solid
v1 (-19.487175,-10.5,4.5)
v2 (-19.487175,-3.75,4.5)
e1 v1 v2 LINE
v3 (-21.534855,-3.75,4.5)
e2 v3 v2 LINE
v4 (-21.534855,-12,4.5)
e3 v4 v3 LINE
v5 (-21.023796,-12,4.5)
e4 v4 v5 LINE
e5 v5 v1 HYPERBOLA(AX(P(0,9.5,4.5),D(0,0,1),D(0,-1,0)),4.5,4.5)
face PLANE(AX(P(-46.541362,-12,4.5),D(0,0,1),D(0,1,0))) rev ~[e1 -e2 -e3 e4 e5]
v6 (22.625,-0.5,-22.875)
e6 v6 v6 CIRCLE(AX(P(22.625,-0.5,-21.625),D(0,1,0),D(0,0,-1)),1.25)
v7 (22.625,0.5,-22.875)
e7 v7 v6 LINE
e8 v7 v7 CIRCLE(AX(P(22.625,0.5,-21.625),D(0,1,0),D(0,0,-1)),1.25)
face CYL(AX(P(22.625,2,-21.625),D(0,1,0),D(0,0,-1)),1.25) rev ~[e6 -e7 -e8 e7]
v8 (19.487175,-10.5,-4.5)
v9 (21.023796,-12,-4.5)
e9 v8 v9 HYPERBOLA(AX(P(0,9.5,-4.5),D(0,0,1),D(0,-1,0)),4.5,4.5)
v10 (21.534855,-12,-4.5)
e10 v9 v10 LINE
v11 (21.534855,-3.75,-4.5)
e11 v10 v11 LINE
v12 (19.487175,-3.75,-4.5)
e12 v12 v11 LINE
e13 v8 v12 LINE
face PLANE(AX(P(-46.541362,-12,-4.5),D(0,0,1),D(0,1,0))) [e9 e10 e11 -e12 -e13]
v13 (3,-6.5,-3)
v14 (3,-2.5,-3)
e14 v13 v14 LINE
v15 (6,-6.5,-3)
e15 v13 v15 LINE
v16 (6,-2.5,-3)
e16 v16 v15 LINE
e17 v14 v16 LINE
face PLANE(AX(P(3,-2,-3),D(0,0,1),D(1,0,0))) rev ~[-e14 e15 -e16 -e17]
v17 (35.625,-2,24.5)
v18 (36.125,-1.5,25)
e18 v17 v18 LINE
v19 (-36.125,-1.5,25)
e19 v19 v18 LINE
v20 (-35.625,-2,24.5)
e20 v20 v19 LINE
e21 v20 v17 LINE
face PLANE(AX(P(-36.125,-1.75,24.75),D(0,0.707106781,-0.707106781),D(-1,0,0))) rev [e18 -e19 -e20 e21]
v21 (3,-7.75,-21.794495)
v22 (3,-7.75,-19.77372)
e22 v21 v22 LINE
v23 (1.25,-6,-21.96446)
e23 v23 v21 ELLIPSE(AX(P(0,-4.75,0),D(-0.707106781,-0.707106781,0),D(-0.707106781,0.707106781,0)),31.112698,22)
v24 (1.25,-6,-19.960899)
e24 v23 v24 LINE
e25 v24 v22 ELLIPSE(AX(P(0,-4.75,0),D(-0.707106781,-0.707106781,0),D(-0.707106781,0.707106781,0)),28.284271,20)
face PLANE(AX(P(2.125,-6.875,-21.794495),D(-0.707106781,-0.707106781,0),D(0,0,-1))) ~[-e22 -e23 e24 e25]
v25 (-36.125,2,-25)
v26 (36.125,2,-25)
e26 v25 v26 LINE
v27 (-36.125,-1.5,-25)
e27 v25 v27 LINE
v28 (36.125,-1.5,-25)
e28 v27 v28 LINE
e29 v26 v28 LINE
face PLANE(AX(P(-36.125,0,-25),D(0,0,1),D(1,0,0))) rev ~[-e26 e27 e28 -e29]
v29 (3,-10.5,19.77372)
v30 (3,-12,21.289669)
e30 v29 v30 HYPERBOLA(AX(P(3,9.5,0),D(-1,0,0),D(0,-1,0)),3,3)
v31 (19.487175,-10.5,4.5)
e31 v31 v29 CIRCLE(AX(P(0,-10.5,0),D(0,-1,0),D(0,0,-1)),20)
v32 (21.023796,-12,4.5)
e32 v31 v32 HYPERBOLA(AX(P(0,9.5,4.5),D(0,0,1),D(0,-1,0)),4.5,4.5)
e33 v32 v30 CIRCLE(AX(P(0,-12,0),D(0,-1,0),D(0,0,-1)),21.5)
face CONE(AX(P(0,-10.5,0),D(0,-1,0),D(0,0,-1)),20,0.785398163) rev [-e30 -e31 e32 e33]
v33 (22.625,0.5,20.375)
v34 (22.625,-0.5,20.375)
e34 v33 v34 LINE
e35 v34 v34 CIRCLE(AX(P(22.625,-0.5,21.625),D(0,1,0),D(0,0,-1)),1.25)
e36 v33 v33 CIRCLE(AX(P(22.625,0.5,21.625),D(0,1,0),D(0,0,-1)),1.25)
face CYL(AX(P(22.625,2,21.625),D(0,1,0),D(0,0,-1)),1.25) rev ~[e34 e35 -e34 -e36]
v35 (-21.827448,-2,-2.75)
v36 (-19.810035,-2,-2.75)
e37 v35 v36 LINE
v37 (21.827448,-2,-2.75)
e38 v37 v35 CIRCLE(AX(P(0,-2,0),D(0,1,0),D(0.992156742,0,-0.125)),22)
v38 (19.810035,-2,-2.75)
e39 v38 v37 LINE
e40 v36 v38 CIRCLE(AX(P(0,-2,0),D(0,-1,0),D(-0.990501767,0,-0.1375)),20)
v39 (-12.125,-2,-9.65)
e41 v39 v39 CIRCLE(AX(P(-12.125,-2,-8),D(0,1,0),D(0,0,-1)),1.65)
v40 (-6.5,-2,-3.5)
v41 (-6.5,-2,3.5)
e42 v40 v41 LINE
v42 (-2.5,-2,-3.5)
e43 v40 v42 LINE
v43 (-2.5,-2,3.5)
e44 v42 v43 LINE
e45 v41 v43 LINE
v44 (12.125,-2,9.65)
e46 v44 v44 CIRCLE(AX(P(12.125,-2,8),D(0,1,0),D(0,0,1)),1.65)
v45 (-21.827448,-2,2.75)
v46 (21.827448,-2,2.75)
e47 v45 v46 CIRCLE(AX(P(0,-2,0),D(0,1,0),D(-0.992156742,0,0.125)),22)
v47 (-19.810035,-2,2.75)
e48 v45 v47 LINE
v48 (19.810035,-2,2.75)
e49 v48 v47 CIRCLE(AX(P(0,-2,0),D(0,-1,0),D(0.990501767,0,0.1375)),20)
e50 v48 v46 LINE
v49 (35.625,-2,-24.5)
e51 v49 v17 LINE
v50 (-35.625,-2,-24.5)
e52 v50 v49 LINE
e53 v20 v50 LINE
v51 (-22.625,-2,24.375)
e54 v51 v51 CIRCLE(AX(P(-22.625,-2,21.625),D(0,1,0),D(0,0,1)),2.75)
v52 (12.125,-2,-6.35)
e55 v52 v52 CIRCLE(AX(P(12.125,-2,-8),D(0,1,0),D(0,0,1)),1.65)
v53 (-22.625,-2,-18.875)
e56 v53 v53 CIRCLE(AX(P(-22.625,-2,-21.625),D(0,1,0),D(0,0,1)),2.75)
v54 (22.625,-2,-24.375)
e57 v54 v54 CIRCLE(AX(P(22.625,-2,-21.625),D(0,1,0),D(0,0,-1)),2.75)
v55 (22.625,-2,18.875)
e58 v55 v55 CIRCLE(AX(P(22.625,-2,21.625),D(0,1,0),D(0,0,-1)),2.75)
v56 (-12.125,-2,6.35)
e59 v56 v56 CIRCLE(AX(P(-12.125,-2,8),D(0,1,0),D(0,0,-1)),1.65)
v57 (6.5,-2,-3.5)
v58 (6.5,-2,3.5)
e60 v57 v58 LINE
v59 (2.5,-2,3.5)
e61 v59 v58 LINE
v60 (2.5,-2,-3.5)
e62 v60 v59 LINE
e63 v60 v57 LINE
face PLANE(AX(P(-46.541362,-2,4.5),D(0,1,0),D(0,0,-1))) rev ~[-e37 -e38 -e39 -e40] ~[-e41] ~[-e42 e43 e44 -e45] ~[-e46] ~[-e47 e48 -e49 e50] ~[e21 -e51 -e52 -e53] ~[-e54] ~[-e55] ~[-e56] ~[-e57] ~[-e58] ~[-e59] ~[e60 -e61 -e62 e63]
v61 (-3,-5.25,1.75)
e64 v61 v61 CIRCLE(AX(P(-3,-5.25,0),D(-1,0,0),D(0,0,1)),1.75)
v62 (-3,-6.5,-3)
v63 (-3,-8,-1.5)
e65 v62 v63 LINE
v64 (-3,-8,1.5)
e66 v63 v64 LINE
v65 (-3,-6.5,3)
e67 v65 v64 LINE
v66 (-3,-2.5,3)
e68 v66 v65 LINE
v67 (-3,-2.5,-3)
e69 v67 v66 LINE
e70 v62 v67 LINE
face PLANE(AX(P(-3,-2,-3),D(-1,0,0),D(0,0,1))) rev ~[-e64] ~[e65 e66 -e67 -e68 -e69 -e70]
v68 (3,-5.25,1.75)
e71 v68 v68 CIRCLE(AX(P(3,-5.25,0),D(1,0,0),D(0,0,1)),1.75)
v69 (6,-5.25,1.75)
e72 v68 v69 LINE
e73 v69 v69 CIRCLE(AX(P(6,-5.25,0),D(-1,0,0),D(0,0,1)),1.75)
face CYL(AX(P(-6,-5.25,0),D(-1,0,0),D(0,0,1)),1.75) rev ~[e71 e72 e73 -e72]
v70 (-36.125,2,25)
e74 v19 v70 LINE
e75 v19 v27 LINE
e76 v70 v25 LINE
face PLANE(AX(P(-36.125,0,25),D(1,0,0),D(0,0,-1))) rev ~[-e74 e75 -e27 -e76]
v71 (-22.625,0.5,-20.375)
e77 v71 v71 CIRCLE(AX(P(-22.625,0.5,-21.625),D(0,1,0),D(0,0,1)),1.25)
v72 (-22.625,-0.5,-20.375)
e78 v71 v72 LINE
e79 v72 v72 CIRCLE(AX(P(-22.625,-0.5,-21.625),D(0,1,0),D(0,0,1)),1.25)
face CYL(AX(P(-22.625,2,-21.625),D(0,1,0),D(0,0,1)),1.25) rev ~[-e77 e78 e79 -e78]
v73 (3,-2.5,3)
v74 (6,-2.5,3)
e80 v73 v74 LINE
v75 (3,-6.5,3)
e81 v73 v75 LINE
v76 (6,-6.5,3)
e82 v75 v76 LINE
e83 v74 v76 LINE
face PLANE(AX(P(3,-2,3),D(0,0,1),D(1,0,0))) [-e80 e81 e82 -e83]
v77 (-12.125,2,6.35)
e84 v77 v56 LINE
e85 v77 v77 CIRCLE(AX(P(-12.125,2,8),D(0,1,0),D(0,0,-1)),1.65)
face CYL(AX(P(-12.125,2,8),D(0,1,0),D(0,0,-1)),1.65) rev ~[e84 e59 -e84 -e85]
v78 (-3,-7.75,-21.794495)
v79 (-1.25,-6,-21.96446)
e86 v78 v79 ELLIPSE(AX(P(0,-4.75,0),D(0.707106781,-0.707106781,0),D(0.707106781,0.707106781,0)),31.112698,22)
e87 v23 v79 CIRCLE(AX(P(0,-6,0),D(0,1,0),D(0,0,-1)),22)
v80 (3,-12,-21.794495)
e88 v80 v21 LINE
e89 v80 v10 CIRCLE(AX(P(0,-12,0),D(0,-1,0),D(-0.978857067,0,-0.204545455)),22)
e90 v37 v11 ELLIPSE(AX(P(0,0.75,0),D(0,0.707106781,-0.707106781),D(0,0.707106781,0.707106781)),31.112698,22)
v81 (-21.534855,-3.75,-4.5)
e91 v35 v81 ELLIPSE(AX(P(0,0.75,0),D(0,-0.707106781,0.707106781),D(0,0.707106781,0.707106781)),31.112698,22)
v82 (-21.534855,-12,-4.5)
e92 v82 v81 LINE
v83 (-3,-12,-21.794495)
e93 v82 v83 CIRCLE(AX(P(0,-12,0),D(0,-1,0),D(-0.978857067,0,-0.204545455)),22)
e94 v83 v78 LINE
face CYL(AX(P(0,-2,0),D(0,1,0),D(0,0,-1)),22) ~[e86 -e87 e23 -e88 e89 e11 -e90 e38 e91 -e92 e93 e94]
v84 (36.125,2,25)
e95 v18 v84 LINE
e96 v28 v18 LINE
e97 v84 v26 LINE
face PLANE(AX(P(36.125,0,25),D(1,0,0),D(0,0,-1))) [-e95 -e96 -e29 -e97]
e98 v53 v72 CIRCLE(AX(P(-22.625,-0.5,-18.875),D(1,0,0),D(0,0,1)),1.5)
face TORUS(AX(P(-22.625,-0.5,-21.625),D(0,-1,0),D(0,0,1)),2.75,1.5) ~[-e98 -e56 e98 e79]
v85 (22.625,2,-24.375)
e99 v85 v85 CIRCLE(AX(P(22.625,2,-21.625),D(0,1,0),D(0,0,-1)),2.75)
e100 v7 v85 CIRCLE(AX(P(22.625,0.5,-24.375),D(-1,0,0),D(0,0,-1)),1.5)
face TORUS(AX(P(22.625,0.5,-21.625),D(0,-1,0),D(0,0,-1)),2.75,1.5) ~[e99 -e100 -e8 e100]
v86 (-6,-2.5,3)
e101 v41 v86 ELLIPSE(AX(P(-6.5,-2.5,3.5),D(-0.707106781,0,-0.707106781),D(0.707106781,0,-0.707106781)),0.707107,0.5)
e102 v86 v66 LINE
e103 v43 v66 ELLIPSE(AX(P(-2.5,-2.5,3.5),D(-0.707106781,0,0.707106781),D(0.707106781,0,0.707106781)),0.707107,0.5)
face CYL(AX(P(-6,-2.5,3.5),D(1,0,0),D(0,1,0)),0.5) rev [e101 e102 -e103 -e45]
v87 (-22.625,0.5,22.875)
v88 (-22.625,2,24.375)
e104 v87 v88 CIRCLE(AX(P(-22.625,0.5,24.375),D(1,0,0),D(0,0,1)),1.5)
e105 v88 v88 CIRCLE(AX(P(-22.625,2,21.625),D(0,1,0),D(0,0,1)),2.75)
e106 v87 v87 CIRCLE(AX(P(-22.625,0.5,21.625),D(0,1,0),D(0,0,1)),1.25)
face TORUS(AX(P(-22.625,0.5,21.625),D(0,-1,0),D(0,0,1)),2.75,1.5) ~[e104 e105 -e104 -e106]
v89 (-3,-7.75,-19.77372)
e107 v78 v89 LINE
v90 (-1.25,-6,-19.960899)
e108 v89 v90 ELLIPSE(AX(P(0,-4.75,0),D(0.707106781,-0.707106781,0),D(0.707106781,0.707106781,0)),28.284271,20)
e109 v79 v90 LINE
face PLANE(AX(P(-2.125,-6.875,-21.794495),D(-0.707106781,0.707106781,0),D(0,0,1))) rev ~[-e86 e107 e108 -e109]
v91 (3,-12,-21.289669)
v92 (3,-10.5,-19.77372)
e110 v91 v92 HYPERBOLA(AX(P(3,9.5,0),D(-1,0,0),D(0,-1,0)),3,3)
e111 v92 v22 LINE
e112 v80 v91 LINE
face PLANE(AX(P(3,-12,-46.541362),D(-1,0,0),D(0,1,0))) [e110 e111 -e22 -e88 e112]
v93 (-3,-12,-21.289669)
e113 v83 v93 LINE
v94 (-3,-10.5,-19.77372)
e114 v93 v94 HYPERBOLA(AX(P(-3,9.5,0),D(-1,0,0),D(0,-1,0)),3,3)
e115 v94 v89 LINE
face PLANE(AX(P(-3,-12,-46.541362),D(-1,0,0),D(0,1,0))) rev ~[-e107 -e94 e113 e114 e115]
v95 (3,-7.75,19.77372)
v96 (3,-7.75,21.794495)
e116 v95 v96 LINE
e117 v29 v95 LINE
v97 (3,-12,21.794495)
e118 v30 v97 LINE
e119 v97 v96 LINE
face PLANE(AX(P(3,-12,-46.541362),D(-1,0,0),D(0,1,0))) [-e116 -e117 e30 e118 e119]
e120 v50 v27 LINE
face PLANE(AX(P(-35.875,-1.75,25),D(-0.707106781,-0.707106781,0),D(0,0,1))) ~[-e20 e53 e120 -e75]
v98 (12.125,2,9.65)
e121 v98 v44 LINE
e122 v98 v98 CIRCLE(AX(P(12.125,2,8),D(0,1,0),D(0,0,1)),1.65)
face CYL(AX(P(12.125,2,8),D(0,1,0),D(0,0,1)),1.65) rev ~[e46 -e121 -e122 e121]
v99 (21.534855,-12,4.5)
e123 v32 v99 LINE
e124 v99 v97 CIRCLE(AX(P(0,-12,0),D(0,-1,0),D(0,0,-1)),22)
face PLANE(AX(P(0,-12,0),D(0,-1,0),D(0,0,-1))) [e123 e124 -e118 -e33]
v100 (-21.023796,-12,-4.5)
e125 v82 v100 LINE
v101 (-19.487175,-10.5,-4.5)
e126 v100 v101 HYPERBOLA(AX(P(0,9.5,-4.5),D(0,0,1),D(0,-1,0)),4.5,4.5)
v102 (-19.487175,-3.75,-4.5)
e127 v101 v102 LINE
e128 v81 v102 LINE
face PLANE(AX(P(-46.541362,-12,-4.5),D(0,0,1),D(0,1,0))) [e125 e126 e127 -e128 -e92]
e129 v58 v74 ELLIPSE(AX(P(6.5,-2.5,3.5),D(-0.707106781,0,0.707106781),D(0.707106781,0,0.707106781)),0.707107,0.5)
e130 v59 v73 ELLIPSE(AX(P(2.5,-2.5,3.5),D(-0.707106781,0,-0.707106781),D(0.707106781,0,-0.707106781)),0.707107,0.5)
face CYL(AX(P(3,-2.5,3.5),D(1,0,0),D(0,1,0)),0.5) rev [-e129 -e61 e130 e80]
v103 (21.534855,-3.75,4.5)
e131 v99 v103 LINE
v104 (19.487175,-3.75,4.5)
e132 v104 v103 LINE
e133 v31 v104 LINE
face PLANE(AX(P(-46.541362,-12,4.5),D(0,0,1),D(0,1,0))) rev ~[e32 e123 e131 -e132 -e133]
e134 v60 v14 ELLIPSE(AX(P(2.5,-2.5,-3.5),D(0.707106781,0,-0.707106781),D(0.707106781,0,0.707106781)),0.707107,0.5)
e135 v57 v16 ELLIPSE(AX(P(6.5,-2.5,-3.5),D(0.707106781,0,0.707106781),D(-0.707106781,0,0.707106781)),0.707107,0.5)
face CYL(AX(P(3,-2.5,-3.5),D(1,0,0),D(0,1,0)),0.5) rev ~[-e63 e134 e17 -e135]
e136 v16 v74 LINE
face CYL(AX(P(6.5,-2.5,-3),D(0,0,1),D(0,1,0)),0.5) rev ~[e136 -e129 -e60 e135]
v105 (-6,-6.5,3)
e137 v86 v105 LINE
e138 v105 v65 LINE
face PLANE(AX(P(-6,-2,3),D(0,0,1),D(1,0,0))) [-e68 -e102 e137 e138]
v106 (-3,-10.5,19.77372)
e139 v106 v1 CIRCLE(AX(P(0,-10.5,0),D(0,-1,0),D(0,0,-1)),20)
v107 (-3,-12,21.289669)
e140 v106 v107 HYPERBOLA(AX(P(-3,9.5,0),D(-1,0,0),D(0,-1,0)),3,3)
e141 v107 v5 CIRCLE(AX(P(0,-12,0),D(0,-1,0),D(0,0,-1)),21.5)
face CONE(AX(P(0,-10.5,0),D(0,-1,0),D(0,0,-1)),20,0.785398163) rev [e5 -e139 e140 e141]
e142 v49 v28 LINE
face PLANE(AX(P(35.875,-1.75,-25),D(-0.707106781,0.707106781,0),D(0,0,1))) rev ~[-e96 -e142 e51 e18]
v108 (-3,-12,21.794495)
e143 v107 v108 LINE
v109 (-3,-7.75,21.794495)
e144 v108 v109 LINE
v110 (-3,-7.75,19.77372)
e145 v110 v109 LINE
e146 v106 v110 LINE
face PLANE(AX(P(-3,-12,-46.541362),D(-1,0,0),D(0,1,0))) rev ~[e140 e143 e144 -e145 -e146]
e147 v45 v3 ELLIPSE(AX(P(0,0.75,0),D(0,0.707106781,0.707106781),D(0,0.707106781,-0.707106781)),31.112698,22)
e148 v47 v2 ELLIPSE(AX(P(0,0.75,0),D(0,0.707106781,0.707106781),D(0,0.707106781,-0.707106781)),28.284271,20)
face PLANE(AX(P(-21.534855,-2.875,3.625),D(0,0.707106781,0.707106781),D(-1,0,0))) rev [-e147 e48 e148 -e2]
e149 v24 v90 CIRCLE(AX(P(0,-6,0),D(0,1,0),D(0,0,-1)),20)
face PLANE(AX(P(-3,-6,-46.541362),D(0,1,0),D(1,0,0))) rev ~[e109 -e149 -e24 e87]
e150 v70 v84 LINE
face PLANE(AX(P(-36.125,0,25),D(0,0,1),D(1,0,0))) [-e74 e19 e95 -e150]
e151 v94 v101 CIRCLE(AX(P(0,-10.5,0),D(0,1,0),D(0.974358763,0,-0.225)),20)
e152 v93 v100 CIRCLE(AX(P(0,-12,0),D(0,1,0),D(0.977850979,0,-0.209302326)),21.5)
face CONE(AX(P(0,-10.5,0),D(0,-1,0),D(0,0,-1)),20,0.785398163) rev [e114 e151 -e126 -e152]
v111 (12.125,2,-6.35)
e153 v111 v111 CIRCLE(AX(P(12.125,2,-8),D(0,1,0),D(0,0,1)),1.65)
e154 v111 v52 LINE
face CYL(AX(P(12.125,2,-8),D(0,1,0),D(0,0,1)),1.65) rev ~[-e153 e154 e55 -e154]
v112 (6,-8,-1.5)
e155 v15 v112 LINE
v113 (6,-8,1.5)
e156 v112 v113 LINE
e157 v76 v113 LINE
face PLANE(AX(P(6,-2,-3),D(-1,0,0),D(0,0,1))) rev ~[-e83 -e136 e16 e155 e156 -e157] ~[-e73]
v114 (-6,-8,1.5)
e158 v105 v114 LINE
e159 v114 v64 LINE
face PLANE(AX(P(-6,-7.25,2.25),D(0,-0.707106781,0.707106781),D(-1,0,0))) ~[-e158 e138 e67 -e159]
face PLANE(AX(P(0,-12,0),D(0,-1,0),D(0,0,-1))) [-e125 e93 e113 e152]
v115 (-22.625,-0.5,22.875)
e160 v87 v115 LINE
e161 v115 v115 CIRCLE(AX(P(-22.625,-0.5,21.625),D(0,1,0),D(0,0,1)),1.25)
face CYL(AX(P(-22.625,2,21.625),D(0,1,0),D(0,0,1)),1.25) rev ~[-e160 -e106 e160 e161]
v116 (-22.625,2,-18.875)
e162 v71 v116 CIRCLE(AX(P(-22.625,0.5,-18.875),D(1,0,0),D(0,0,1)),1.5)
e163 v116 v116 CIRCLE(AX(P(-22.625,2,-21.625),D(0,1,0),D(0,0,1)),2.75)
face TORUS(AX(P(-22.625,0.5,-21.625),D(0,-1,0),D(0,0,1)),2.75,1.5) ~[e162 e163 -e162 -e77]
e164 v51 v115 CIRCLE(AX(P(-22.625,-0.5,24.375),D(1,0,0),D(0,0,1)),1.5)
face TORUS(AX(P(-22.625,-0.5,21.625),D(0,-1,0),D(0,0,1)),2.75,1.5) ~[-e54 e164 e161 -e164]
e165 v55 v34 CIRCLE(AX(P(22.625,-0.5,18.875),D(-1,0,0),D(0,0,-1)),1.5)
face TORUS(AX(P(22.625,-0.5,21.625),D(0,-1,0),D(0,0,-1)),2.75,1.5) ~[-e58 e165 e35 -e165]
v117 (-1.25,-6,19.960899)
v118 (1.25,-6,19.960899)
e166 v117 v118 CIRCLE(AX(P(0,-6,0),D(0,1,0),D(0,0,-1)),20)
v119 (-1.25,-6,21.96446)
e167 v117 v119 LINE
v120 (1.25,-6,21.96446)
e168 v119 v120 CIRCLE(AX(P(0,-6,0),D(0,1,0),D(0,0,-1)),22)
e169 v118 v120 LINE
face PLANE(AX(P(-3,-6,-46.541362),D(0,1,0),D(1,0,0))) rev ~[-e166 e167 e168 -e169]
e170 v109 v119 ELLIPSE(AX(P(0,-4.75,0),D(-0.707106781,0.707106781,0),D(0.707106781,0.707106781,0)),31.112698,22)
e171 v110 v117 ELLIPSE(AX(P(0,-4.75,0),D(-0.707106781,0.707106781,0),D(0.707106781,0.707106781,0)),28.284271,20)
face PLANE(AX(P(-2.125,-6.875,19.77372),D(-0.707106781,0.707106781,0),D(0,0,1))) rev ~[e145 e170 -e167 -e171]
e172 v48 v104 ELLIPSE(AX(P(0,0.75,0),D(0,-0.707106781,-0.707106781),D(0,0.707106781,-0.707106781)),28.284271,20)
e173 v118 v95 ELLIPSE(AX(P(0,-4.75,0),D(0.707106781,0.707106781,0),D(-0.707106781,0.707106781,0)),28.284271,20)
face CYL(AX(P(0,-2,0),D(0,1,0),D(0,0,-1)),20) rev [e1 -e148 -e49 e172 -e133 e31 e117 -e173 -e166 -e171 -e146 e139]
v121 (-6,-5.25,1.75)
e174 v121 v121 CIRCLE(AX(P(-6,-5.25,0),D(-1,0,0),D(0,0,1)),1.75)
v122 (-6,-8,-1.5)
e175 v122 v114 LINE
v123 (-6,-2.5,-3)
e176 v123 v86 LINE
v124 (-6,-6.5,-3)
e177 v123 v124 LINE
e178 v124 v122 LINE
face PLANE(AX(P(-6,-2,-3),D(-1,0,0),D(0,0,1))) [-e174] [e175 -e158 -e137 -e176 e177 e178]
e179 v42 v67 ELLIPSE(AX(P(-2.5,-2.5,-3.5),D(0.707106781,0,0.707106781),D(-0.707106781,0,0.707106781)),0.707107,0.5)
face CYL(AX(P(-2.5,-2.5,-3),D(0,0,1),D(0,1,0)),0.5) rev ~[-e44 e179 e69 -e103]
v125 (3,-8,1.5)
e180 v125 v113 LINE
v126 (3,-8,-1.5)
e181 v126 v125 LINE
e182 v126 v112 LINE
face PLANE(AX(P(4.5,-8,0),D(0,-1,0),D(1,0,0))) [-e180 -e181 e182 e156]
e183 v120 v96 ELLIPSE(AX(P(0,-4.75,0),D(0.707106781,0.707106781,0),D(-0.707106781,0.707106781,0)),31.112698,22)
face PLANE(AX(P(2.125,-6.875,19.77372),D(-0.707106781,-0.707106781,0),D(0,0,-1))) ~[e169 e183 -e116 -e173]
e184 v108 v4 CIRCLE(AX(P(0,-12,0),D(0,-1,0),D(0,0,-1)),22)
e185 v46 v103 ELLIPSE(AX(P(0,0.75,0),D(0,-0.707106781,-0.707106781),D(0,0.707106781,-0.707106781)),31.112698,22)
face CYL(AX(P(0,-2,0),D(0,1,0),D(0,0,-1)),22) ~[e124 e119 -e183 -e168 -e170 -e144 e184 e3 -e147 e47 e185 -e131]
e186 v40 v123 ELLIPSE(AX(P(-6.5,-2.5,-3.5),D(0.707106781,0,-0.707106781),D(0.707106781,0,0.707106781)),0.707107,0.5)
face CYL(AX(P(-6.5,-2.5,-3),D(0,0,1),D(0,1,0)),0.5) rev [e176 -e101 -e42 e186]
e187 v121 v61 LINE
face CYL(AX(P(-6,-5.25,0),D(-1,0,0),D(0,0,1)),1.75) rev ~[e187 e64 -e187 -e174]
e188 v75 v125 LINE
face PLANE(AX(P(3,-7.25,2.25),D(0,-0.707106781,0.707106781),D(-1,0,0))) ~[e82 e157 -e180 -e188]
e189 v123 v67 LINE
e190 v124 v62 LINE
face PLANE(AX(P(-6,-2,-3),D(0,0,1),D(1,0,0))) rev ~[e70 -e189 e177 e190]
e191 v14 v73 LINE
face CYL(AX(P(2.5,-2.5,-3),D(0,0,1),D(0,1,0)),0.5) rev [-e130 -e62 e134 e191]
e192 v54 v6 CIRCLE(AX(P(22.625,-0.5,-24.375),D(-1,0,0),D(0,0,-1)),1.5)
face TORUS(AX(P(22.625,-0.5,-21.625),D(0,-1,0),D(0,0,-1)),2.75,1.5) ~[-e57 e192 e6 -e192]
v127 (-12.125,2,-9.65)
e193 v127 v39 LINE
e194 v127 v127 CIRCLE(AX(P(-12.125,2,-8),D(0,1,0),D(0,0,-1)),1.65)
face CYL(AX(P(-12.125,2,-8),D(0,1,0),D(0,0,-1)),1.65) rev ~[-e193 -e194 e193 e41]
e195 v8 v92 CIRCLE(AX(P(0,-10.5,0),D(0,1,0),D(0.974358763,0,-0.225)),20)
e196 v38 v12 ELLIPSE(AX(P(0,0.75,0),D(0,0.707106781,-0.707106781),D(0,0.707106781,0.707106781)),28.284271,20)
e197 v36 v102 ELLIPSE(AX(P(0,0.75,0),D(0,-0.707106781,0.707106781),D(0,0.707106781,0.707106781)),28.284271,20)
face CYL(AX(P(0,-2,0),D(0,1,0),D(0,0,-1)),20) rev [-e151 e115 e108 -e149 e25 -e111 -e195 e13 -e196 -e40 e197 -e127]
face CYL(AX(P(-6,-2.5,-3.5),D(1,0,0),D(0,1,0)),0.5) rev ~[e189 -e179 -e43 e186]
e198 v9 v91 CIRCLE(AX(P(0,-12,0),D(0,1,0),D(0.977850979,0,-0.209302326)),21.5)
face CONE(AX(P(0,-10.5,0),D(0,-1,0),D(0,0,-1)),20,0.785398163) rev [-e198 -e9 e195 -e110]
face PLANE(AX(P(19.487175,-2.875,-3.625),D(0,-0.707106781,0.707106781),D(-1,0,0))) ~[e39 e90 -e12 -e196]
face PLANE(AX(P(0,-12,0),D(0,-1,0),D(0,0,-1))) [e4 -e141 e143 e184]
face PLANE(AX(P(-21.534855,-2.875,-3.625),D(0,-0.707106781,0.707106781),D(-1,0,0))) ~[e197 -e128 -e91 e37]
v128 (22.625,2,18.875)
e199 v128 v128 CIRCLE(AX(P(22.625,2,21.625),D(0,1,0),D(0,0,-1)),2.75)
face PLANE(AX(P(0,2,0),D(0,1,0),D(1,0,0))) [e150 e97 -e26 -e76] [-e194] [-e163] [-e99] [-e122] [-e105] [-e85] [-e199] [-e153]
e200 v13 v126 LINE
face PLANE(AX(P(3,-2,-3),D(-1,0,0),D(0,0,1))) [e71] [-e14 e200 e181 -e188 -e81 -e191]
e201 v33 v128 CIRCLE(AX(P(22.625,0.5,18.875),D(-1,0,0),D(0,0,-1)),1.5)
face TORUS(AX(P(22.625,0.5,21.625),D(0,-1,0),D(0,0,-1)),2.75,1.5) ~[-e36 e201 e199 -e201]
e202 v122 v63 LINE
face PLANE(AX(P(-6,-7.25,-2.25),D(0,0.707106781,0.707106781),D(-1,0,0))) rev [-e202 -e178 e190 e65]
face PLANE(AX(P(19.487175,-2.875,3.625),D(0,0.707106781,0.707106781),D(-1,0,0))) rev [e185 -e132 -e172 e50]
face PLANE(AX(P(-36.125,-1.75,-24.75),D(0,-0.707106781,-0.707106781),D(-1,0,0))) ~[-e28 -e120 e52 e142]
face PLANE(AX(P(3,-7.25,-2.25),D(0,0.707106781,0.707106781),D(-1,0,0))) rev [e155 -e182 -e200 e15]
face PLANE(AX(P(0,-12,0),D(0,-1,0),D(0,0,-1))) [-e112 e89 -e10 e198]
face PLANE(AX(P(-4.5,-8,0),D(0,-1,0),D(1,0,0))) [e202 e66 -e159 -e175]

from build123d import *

# Parameters (mm, degrees)
SKETCH1_W               = 72.25
SKETCH1_H               = 50
BOSS_EXTRUDE1_DEPTH     = 2
SKETCH2_R               = 1.65
CUT_EXTRUDE1_DEPTH      = 10
SKETCH3_R               = 22
SKETCH3_R_2             = 20
BOSS_EXTRUDE2_DEPTH     = 10
CHAMFER2_SIZE           = 1.5
CUT_EXTRUDE3_DEPTH      = 46.541361695
CUT_EXTRUDE3_DEPTH_BACK = 46.541361695
SKETCH6_W               = 9
SKETCH6_H               = 10
SKETCH4_W               = 3
SKETCH4_H               = 6
BOSS_EXTRUDE3_DEPTH     = 6
FILLET1_R               = 0.5
CUT_EXTRUDE2_REACH      = 52.433
SKETCH5_R               = 1.75
CHAMFER3_SIZE           = 1.5
SKETCH7_R               = 1.25
CUT_EXTRUDE4_DEPTH      = 10
FILLET2_R               = 1.5
CUT_EXTRUDE5_DEPTH      = 46.541361695
CUT_EXTRUDE5_DEPTH_BACK = 46.541361695
SKETCH8_W               = 6
SKETCH8_H               = 6
CHAMFER4_SIZE           = 1.75
CHAMFER5_SIZE           = 0.5


with BuildPart() as part:
    # Sketch1 → Boss-Extrude1 (new, symmetric)
    with BuildSketch(Plane(origin=(0, 0, 0), x_dir=(1, 0, 0), z_dir=(0, 1, 0))):
        Rectangle(SKETCH1_W, SKETCH1_H)
    extrude(amount=BOSS_EXTRUDE1_DEPTH, both=True)

    # Sketch2 → Cut-Extrude1 (cut)
    with BuildSketch(Plane(origin=(0, 2, 0), x_dir=(1, 0, 0), z_dir=(0, 1, 0))):
        with Locations(Location((12.125, -8, 0), (0, 0, 270))):
            Circle(SKETCH2_R)
        with Locations(Location((12.125, 8, 0), (0, 0, 270))):
            Circle(SKETCH2_R)
        with Locations(Location((-12.125, -8, 0), (0, 0, 90))):
            Circle(SKETCH2_R)
        with Locations(Location((-12.125, 8, 0), (0, 0, 90))):
            Circle(SKETCH2_R)
    extrude(amount=-CUT_EXTRUDE1_DEPTH, mode=Mode.SUBTRACT)

    # Sketch3 → Boss-Extrude2 (add)
    with BuildSketch(Plane.XZ.offset(2)):
        with Locations(Location((0, 0, 0), (0, 0, 270))):
            Circle(SKETCH3_R)
        with Locations(Location((0, 0, 0), (0, 0, 270))):
            Circle(SKETCH3_R_2, mode=Mode.SUBTRACT)
    extrude(amount=BOSS_EXTRUDE2_DEPTH)

    # Chamfer2
    chamfer2_edges = [part.edges().sort_by_distance(p)[0] for p in [
        (0, -12, 20),
    ]]
    chamfer(chamfer2_edges, length=CHAMFER2_SIZE)

    # Sketch6 → Cut-Extrude3 (cut, two sides: drawn at the far end of the back side and taken through both)
    with BuildSketch(Plane(origin=(0, 0, 0), x_dir=(0, 0, -1), z_dir=(1, 0, 0)).offset(-CUT_EXTRUDE3_DEPTH_BACK)):
        with Locations((0, -7)):
            Rectangle(SKETCH6_W, SKETCH6_H)
    extrude(amount=CUT_EXTRUDE3_DEPTH + CUT_EXTRUDE3_DEPTH_BACK, mode=Mode.SUBTRACT)

    # Sketch4 → Boss-Extrude3 (add)
    with BuildSketch(Plane.XZ.offset(2)):
        with Locations((-4.5, 0)):
            Rectangle(SKETCH4_W, SKETCH4_H)
        with Locations((4.5, 0)):
            Rectangle(SKETCH4_W, SKETCH4_H)
    extrude(amount=BOSS_EXTRUDE3_DEPTH)

    # Fillet1
    fillet1_edges = [part.edges().sort_by_distance(p)[0] for p in [
        (6, -2, 0),
        (4.5, -2, 3),
        (3, -2, 0),
        (4.5, -2, -3),
        (-3, -2, 0),
        (-4.5, -2, 3),
        (-6, -2, 0),
        (-4.5, -2, -3),
    ]]
    fillet(fillet1_edges, radius=FILLET1_R)

    # Cut-Extrude2: up to this face of the body (flat: up to its plane)
    cut_extrude2_end = Plane(part.part.faces().sort_by_distance((6, -5.25, 0))[0])
    # Sketch5 → Cut-Extrude2 (cut, up to the picked face)
    with BuildSketch(Plane.ZY.offset(6), mode=Mode.PRIVATE) as cut_extrude2_sk1:
        with Locations((0, -5.25)):
            Circle(SKETCH5_R)
    cut_extrude2_tool1 = split(extrude(cut_extrude2_sk1.sketch, amount=-CUT_EXTRUDE2_REACH, mode=Mode.PRIVATE), bisect_by=cut_extrude2_end, keep=Keep.BOTH, mode=Mode.PRIVATE)
    add(cut_extrude2_tool1.solids().sort_by(Axis((-6, -5.25, 0), (1, 0, 0)))[0], mode=Mode.SUBTRACT)

    # Chamfer3
    chamfer3_edges = [part.edges().sort_by_distance(p)[0] for p in [
        (4.5, -8, 3),
        (4.5, -8, -3),
        (-4.5, -8, 3),
        (-4.5, -8, -3),
    ]]
    chamfer(chamfer3_edges, length=CHAMFER3_SIZE)

    # Sketch7 → Cut-Extrude4 (cut)
    with BuildSketch(Plane(origin=(0, 2, 0), x_dir=(1, 0, 0), z_dir=(0, 1, 0))):
        with Locations(Location((-22.625, 21.625, 0), (0, 0, 270))):
            Circle(SKETCH7_R)
        with Locations(Location((-22.625, -21.625, 0), (0, 0, 270))):
            Circle(SKETCH7_R)
        with Locations(Location((22.625, -21.625, 0), (0, 0, 90))):
            Circle(SKETCH7_R)
        with Locations(Location((22.625, 21.625, 0), (0, 0, 90))):
            Circle(SKETCH7_R)
    extrude(amount=-CUT_EXTRUDE4_DEPTH, mode=Mode.SUBTRACT)

    # Fillet2
    fillet2_edges = [part.edges().sort_by_distance(p)[0] for p in [
        (22.625, -2, -20.375),
        (22.625, 2, -20.375),
        (22.625, -2, 22.875),
        (22.625, 2, 22.875),
        (-22.625, -2, 20.375),
        (-22.625, 2, 20.375),
        (-22.625, -2, -22.875),
        (-22.625, 2, -22.875),
    ]]
    fillet(fillet2_edges, radius=FILLET2_R)

    # Sketch8 → Cut-Extrude5 (cut, two sides: drawn at the far end of the back side and taken through both)
    with BuildSketch(Plane.XY.offset(-CUT_EXTRUDE5_DEPTH_BACK)):
        with Locations((0, -9)):
            Rectangle(SKETCH8_W, SKETCH8_H)
    extrude(amount=CUT_EXTRUDE5_DEPTH + CUT_EXTRUDE5_DEPTH_BACK, mode=Mode.SUBTRACT)

    # Chamfer4
    chamfer4_edges = [part.edges().sort_by_distance(p)[0] for p in [
        (-3, -6, 20.784107325),
        (-3, -6, -20.784107325),
        (3, -6, 20.784107325),
        (3, -6, -20.784107325),
        (20.511015369, -2, 4.5),
        (-20.511015369, -2, 4.5),
        (-20.511015369, -2, -4.5),
        (20.511015369, -2, -4.5),
    ]]
    chamfer(chamfer4_edges, length=CHAMFER4_SIZE)

    # Chamfer5
    chamfer5_edges = [part.edges().sort_by_distance(p)[0] for p in [
        (0, -2, 25),
        (-36.125, -2, 0),
        (0, -2, -25),
        (36.125, -2, 0),
    ]]
    chamfer(chamfer5_edges, length=CHAMFER5_SIZE)


solid = part.part
